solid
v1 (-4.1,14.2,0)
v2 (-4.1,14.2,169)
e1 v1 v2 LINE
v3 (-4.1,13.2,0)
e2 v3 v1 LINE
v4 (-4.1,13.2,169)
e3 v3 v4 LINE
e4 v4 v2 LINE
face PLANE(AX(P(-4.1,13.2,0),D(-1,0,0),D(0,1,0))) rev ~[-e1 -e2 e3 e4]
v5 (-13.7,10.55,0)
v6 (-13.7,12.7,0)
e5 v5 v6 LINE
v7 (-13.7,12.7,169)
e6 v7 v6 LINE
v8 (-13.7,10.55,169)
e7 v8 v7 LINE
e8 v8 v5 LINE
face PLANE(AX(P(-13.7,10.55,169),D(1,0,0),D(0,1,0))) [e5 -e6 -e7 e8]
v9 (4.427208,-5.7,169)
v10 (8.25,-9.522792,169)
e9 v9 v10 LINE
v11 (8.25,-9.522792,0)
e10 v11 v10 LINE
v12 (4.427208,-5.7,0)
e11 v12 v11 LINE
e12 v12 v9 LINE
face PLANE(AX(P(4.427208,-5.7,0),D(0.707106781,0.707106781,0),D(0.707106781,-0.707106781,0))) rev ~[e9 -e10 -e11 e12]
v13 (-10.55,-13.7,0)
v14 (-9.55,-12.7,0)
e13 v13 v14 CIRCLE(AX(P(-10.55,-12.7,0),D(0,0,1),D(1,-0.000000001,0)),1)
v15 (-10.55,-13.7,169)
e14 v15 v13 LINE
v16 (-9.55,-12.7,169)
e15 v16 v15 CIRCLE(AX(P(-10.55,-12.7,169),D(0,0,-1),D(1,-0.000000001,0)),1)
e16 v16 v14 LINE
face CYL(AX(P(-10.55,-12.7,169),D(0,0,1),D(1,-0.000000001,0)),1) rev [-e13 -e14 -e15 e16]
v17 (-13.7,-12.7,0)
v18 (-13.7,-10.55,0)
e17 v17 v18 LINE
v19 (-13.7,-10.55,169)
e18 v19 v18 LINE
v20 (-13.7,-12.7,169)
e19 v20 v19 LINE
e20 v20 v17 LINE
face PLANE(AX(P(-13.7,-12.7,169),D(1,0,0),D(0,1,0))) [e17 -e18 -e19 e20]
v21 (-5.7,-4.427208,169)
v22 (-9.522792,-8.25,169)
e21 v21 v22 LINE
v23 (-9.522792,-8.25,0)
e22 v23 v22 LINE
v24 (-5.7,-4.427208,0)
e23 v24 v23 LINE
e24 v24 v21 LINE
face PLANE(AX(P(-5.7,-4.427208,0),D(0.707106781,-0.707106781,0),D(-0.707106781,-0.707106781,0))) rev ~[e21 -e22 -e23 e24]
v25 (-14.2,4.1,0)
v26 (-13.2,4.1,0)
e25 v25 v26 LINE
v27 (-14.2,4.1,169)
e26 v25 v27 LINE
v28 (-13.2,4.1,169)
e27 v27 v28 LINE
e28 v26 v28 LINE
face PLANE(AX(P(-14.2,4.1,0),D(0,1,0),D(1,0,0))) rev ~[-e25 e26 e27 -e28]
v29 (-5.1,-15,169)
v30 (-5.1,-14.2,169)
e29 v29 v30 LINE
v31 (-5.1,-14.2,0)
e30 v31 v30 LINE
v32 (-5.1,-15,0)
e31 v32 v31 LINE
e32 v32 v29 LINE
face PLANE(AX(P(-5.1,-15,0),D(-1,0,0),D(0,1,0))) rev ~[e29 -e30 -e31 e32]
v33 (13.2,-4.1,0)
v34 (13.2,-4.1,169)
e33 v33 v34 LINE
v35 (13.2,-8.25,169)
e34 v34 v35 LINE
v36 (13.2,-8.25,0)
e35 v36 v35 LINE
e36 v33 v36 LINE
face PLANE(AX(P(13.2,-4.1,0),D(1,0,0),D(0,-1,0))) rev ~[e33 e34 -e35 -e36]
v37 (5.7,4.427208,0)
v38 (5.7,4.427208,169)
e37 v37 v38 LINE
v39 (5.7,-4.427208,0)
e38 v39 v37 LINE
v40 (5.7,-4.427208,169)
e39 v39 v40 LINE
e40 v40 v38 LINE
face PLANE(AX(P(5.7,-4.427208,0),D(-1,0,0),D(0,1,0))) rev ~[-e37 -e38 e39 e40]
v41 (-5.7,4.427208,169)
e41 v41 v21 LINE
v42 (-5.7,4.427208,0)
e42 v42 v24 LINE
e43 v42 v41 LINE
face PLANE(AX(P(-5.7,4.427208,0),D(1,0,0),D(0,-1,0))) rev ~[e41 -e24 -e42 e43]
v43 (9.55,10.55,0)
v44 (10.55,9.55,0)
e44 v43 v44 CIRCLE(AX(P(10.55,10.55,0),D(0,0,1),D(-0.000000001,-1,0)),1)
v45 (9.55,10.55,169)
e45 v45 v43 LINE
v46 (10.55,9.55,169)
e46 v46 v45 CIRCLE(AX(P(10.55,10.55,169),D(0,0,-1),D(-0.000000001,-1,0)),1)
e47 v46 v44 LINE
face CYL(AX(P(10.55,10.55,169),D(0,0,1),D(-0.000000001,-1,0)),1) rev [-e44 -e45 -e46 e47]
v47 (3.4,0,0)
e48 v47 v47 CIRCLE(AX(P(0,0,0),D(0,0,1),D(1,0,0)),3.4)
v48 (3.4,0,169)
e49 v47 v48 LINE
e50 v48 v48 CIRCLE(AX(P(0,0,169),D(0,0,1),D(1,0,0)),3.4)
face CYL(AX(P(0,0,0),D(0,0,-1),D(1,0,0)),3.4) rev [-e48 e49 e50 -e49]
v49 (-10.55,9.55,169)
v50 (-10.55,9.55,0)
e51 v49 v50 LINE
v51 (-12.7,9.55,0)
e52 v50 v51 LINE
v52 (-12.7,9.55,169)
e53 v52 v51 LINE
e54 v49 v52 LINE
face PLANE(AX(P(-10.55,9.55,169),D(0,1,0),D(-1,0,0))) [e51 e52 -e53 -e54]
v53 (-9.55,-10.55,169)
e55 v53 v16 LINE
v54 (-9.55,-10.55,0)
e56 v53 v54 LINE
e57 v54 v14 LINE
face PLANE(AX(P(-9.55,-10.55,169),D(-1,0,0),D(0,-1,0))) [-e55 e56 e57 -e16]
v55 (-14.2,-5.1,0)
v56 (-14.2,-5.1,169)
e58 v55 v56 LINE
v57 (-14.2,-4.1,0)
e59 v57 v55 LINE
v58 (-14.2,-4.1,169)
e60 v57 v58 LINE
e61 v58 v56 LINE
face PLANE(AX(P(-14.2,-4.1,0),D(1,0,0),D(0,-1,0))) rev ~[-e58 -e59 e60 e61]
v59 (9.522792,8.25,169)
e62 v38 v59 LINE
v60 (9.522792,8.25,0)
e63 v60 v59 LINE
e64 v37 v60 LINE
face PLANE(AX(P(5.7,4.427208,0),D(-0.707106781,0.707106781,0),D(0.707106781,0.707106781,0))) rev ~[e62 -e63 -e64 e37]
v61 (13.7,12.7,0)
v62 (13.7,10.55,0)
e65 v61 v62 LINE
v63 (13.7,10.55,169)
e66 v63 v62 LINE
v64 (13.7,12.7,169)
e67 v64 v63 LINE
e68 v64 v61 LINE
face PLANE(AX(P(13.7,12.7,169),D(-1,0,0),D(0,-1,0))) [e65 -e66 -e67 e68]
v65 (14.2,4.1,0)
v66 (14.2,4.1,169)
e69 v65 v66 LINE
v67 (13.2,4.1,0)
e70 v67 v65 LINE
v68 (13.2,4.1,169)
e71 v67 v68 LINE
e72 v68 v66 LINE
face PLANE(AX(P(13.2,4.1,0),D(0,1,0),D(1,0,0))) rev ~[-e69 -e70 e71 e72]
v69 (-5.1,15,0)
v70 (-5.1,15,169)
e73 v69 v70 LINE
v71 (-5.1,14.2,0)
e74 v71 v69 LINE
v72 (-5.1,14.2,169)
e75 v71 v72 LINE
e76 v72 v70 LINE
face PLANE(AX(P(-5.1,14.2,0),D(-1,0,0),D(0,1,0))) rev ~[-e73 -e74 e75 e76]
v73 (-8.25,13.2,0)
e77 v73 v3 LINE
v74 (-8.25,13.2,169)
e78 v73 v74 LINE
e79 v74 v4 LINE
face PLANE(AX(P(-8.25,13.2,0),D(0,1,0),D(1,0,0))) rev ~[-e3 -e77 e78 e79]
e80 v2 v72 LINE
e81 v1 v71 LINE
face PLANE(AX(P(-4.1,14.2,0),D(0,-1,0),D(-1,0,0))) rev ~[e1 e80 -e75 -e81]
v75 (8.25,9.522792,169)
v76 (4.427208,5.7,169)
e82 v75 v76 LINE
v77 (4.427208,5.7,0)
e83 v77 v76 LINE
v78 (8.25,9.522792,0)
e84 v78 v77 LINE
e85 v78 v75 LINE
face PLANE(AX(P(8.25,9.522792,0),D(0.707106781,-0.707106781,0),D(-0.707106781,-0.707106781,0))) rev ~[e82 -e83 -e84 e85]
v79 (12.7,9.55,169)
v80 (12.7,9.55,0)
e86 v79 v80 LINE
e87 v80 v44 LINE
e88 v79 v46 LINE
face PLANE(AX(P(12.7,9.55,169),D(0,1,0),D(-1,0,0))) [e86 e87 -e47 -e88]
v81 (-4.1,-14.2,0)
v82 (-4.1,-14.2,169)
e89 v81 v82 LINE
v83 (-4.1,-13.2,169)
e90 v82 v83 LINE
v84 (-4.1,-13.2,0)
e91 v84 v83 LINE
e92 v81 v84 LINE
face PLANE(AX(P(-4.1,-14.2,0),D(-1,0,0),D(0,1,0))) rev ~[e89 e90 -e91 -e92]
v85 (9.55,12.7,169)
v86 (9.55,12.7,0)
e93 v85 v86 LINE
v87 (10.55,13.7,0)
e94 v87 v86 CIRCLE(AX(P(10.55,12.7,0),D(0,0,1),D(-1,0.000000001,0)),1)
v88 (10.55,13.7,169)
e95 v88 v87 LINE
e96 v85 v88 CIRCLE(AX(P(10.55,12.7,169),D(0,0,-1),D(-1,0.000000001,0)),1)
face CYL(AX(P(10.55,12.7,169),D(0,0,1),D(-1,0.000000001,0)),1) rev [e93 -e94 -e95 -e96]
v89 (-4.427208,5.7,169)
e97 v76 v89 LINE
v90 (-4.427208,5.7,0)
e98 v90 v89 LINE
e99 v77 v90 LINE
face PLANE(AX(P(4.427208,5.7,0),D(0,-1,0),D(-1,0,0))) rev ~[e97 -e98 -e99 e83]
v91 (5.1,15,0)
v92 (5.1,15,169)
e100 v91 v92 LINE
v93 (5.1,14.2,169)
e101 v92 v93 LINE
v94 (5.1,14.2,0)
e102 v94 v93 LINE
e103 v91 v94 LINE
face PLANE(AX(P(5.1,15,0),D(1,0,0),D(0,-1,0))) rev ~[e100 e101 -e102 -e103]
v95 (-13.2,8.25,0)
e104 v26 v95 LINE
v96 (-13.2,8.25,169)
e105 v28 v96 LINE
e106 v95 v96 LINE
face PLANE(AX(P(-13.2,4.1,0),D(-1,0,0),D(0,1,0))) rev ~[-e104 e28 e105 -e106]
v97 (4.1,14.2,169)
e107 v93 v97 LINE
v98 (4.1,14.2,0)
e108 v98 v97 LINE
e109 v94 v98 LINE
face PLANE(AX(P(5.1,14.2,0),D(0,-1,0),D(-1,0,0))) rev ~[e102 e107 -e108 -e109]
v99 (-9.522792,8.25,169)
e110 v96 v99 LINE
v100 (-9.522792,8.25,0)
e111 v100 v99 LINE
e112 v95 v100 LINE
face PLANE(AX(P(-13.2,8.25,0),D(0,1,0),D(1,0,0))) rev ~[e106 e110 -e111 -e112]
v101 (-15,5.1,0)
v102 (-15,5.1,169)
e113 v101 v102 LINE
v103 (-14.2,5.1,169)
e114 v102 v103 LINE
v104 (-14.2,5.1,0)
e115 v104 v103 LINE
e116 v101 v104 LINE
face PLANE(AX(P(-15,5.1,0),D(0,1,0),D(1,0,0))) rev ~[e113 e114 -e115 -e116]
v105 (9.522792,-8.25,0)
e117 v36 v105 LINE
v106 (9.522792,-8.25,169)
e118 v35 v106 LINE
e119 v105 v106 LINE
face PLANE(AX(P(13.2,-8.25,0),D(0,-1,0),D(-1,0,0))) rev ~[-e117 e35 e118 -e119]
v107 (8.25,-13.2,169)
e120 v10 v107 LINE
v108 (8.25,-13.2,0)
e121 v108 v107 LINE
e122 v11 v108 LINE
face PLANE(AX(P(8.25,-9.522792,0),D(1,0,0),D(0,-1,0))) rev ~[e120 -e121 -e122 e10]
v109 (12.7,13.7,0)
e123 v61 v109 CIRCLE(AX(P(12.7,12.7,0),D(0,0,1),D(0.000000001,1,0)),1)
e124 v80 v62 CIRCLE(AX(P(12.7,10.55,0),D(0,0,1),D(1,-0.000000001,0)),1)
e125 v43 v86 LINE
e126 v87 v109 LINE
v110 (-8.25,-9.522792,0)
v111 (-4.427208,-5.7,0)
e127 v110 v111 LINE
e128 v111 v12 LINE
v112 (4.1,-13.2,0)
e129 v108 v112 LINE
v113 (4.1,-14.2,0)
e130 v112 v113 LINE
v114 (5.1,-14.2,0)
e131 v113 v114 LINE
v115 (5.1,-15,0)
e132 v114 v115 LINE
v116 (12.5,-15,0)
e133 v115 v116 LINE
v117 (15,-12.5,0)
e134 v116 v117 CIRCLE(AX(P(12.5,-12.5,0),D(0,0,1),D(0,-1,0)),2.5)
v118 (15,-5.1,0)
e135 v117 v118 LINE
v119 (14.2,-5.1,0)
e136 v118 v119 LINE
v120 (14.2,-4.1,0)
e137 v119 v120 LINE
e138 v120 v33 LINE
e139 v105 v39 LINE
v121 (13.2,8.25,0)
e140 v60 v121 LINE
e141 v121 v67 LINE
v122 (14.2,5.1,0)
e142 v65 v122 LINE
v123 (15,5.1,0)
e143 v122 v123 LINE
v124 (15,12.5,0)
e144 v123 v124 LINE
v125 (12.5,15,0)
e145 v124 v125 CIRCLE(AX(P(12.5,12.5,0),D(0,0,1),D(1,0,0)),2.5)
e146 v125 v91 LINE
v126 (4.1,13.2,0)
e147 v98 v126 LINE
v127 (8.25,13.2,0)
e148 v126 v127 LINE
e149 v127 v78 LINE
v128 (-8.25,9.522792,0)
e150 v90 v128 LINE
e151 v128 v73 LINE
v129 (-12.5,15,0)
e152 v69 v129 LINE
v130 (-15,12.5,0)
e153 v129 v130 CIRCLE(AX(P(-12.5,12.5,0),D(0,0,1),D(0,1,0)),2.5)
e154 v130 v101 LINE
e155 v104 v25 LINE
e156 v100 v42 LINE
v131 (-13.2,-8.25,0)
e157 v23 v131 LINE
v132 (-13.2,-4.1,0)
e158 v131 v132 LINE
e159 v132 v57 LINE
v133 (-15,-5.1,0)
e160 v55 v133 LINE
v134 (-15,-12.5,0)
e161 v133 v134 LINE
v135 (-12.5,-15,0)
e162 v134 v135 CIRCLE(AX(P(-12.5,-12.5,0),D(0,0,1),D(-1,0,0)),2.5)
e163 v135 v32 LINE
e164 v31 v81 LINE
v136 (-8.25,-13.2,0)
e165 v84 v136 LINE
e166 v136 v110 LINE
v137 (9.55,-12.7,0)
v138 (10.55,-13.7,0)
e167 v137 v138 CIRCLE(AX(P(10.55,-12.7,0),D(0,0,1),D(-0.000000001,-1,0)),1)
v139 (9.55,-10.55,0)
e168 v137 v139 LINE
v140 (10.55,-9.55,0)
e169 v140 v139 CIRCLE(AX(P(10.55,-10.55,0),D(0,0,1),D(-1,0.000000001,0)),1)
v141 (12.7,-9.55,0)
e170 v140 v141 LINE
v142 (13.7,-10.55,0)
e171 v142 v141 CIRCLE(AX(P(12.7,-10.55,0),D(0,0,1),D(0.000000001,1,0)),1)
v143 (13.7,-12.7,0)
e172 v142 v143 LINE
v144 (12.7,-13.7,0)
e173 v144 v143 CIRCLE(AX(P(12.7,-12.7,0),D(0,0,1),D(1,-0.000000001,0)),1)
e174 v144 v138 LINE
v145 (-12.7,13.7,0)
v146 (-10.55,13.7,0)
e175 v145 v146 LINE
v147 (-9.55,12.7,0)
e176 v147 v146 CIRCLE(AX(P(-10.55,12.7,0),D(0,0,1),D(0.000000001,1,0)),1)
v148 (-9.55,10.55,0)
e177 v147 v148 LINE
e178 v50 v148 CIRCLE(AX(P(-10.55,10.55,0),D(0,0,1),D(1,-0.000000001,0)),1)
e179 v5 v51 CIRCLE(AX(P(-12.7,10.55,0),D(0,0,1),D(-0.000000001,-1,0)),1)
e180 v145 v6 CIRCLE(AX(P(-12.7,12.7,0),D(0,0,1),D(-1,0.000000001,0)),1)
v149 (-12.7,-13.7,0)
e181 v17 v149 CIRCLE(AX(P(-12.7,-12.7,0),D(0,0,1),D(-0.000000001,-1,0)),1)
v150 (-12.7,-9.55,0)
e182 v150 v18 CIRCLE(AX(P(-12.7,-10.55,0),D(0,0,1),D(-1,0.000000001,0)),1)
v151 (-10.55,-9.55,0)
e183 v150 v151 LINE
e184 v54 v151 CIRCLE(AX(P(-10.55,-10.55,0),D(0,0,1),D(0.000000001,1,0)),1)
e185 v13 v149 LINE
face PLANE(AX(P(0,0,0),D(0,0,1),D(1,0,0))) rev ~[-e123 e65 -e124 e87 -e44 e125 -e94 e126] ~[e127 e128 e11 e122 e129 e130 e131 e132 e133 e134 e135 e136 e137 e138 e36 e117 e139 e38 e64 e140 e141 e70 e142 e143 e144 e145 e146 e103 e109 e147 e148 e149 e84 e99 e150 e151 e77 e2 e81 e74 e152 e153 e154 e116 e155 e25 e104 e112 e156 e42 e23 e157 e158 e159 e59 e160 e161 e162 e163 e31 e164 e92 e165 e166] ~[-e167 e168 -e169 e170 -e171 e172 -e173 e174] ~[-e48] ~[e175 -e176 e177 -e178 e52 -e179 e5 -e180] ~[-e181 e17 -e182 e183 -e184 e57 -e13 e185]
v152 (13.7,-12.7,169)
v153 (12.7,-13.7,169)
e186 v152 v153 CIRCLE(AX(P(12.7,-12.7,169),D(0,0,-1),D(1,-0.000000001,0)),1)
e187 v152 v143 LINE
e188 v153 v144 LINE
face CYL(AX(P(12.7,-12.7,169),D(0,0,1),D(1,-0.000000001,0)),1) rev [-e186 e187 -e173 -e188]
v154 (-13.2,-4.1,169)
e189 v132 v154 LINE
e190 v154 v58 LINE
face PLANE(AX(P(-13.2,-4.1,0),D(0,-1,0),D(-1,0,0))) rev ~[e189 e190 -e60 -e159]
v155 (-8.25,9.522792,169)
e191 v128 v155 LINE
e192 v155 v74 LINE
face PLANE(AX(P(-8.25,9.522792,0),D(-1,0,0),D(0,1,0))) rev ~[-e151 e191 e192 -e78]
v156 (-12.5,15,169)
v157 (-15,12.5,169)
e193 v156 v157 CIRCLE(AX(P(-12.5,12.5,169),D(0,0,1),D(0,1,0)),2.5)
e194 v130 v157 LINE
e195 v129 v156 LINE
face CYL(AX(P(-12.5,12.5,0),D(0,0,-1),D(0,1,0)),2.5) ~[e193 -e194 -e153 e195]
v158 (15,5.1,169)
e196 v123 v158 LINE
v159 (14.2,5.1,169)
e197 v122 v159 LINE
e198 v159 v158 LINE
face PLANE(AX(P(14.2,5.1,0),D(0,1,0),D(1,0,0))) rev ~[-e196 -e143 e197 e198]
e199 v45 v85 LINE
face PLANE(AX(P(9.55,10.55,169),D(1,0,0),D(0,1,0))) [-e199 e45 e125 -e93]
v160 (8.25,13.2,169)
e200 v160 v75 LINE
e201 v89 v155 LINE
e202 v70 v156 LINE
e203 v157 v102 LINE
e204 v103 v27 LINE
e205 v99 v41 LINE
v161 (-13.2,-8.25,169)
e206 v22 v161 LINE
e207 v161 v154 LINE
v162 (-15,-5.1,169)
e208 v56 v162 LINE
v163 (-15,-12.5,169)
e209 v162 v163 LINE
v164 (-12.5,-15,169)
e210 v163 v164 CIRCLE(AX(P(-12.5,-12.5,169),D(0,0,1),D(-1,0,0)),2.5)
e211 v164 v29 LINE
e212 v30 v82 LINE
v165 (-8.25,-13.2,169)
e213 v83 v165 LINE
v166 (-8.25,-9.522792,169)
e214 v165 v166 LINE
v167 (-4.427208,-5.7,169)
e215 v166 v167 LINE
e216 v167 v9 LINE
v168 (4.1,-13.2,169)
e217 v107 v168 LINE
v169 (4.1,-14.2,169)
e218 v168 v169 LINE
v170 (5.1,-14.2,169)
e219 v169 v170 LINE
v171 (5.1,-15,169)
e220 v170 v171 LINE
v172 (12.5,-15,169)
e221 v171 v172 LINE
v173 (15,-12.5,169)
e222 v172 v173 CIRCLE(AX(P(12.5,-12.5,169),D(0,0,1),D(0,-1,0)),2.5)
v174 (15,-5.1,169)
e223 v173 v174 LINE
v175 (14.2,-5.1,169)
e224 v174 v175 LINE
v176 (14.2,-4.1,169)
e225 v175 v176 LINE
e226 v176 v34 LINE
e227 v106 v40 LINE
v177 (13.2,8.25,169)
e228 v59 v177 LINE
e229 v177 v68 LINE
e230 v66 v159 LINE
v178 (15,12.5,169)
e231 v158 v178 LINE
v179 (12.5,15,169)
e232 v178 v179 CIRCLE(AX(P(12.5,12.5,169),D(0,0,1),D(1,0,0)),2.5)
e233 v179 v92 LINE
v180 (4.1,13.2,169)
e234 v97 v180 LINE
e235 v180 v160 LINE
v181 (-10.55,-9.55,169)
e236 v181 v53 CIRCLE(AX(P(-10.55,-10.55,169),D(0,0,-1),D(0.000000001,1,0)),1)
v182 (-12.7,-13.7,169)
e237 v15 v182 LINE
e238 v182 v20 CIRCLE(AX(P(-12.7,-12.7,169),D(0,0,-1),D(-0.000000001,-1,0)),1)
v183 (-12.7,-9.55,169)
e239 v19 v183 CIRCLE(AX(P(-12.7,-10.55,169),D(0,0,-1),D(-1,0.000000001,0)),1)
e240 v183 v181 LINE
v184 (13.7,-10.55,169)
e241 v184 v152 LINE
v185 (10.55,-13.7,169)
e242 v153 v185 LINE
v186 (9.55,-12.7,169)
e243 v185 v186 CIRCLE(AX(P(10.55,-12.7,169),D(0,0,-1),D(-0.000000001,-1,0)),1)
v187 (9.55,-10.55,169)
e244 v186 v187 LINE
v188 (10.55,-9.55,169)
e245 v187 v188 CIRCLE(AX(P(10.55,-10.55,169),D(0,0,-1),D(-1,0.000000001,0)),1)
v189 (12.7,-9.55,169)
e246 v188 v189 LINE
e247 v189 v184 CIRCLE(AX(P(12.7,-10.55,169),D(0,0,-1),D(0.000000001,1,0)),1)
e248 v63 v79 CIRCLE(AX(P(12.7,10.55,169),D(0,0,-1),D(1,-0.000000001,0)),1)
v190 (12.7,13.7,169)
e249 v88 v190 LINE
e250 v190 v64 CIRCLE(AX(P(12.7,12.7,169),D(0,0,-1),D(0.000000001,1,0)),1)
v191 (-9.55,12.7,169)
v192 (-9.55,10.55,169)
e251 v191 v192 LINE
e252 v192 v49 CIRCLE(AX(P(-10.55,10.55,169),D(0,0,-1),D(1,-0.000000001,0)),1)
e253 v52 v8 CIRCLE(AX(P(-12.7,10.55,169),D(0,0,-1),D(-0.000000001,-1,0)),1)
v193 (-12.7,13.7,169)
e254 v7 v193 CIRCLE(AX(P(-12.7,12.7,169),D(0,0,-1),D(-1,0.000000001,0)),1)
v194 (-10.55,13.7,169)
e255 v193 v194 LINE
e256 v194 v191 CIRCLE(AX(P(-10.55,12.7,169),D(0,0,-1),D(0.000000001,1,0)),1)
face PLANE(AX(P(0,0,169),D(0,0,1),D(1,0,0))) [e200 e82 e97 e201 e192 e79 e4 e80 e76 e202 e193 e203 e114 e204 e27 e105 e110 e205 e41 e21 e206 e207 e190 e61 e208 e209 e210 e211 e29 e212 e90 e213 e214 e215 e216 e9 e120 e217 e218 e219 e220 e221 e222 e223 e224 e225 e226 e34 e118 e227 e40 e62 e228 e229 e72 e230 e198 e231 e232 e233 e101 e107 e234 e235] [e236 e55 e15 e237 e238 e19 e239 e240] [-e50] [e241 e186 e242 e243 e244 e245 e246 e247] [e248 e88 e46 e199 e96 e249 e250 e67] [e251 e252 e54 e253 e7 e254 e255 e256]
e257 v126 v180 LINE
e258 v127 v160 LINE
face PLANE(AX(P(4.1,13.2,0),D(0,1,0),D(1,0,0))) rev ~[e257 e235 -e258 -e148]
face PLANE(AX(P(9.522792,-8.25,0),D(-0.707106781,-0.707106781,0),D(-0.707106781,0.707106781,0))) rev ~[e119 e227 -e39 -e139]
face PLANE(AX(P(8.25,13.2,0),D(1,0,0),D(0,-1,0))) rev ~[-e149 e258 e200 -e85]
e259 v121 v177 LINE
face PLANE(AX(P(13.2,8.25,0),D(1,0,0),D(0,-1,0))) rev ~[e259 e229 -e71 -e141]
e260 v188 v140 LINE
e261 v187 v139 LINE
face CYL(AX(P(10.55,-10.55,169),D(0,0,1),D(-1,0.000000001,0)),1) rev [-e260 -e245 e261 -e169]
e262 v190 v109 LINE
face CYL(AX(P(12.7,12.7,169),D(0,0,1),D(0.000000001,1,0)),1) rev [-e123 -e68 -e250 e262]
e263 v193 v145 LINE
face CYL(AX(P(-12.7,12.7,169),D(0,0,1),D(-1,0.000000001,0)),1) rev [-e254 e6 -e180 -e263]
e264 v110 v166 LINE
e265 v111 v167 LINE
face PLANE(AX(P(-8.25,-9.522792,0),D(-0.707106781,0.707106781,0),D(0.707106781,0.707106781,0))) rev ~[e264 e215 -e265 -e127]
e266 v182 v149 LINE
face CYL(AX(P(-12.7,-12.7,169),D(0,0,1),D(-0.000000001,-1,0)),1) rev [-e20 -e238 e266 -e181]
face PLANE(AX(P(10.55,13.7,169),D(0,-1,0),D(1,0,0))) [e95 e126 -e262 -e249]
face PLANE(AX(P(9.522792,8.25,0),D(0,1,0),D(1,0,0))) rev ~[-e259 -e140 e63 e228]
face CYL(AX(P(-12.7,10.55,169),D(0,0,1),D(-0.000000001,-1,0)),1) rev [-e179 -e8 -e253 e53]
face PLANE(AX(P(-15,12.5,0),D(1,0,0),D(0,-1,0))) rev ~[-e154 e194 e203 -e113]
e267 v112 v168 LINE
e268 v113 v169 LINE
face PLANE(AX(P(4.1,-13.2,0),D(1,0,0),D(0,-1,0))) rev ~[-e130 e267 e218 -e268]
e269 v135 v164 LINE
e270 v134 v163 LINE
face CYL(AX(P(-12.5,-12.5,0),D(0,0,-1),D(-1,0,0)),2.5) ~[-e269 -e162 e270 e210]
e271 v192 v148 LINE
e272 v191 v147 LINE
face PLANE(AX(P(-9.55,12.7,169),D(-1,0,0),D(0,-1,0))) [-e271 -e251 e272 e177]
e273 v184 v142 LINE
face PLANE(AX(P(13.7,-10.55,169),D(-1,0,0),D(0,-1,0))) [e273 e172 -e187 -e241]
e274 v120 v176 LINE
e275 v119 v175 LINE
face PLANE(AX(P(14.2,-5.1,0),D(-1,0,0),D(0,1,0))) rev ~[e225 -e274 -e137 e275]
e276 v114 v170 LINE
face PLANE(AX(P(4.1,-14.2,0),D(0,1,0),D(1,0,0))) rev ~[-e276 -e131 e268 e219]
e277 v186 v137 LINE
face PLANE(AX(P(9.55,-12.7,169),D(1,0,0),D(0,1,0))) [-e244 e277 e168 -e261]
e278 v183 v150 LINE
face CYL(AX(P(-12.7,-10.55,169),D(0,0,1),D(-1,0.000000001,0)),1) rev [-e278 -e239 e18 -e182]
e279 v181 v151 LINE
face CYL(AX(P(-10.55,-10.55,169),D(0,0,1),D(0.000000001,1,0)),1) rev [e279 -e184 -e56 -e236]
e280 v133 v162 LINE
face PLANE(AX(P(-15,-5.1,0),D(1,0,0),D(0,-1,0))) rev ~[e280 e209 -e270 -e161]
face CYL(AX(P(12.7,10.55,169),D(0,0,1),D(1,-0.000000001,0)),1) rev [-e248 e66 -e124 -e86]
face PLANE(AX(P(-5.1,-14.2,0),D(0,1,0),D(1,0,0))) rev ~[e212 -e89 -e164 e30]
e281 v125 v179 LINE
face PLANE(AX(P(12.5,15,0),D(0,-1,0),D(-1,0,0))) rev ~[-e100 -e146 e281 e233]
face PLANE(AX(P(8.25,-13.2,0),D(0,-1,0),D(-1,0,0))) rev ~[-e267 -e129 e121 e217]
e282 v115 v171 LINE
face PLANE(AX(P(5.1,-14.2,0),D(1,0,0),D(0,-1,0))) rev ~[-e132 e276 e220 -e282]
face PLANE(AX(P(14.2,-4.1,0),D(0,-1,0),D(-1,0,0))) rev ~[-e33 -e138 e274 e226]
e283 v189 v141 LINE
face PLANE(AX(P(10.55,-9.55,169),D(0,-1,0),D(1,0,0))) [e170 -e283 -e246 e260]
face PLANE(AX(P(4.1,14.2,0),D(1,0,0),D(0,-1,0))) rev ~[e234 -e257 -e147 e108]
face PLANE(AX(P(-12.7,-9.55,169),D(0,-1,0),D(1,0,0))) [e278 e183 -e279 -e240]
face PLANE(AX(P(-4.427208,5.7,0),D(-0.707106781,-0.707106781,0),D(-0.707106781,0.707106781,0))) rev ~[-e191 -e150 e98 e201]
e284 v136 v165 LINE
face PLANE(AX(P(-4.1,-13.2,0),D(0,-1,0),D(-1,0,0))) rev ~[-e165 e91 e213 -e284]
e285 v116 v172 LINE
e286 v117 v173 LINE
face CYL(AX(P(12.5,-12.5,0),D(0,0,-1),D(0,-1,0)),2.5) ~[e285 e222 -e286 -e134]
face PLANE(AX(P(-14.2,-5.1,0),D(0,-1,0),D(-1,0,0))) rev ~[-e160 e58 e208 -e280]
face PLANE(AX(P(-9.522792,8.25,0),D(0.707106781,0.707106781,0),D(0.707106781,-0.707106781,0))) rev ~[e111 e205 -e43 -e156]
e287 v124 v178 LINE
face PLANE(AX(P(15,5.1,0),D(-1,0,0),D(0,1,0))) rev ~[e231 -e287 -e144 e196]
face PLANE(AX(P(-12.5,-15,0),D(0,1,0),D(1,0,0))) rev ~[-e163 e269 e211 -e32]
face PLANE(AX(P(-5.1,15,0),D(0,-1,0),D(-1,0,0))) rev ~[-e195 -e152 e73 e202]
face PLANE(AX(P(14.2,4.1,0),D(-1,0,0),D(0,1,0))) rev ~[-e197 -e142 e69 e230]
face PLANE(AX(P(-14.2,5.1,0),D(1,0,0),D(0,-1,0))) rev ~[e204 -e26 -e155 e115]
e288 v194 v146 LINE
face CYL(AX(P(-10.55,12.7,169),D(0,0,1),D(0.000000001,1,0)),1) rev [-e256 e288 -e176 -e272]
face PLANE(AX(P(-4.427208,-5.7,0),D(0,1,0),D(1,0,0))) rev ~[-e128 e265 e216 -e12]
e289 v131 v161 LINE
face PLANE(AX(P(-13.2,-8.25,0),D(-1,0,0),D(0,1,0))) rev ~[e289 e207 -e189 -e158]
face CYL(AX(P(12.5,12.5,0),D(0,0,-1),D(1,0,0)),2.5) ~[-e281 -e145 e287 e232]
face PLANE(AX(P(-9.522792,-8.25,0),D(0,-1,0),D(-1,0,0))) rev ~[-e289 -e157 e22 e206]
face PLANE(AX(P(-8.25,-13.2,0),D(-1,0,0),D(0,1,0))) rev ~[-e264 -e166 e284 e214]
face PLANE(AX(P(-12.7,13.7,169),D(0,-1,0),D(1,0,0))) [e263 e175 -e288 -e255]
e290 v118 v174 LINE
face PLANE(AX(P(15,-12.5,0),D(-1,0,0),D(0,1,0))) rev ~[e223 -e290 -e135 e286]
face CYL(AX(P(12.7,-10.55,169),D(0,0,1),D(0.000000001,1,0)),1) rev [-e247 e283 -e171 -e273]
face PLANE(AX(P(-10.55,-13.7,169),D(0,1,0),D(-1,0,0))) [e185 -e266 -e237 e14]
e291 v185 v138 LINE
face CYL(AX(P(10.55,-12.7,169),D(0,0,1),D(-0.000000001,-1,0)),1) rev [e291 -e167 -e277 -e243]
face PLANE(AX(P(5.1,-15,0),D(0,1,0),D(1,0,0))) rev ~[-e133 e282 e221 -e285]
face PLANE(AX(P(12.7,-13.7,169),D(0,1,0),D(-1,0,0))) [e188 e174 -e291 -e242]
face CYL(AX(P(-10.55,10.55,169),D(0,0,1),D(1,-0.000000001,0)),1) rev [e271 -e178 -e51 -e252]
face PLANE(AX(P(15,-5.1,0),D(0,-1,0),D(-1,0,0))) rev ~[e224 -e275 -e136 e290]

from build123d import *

# Parameters (mm, degrees)
SKETCH1_R      = 3.4
EXTRUDE1_DEPTH = 169
EXTRUDE2_DEPTH = 171.326157709


with BuildPart() as part:
    # Sketch1 → Extrude1 (new body)
    with BuildSketch(Plane.XY):
        with BuildLine():
            Line((-5.1, 14.2), (-5.1, 15))
            Line((-5.1, 15), (-12.5, 15))
            ThreePointArc((-12.5, 15), (-14.267766953, 14.267766953), (-15, 12.5))
            Line((-15, 12.5), (-15, 5.1))
            Line((-15, 5.1), (-14.2, 5.1))
            Line((-14.2, 5.1), (-14.2, 4.1))
            Line((-14.2, 4.1), (-13.2, 4.1))
            Line((-13.2, 4.1), (-13.2, 8.25))
            Line((-13.2, 8.25), (-9.522792206, 8.25))
            Line((-9.522792206, 8.25), (-5.7, 4.427207794))
            Line((-5.7, 4.427207794), (-5.7, -4.427207794))
            Line((-5.7, -4.427207794), (-9.522792206, -8.25))
            Line((-9.522792206, -8.25), (-13.2, -8.25))
            Line((-13.2, -8.25), (-13.2, -4.1))
            Line((-13.2, -4.1), (-14.2, -4.1))
            Line((-14.2, -4.1), (-14.2, -5.1))
            Line((-14.2, -5.1), (-15, -5.1))
            Line((-15, -5.1), (-15, -12.5))
            ThreePointArc((-15, -12.5), (-14.267766953, -14.267766953), (-12.5, -15))
            Line((-12.5, -15), (-5.1, -15))
            Line((-5.1, -15), (-5.1, -14.2))
            Line((-5.1, -14.2), (-4.1, -14.2))
            Line((-4.1, -14.2), (-4.1, -13.2))
            Line((-4.1, -13.2), (-8.25, -13.2))
            Line((-8.25, -13.2), (-8.25, -9.522792206))
            Line((-8.25, -9.522792206), (-4.427207794, -5.7))
            Line((-4.427207794, -5.7), (4.427207794, -5.7))
            Line((4.427207794, -5.7), (8.25, -9.522792206))
            Line((8.25, -9.522792206), (8.25, -13.2))
            Line((8.25, -13.2), (4.1, -13.2))
            Line((4.1, -13.2), (4.1, -14.2))
            Line((4.1, -14.2), (5.1, -14.2))
            Line((5.1, -14.2), (5.1, -15))
            Line((5.1, -15), (12.5, -15))
            ThreePointArc((12.5, -15), (14.267766953, -14.267766953), (15, -12.5))
            Line((15, -12.5), (15, -5.1))
            Line((15, -5.1), (14.2, -5.1))
            Line((14.2, -5.1), (14.2, -4.1))
            Line((14.2, -4.1), (13.2, -4.1))
            Line((13.2, -4.1), (13.2, -8.25))
            Line((13.2, -8.25), (9.522792206, -8.25))
            Line((9.522792206, -8.25), (5.7, -4.427207794))
            Line((5.7, -4.427207794), (5.7, 4.427207794))
            Line((5.7, 4.427207794), (9.522792206, 8.25))
            Line((9.522792206, 8.25), (13.2, 8.25))
            Line((13.2, 8.25), (13.2, 4.1))
            Line((13.2, 4.1), (14.2, 4.1))
            Line((14.2, 4.1), (14.2, 5.1))
            Line((14.2, 5.1), (15, 5.1))
            Line((15, 5.1), (15, 12.5))
            ThreePointArc((15, 12.5), (14.267766953, 14.267766953), (12.5, 15))
            Line((12.5, 15), (5.1, 15))
            Line((5.1, 15), (5.1, 14.2))
            Line((5.1, 14.2), (4.1, 14.2))
            Line((4.1, 14.2), (4.1, 13.2))
            Line((4.1, 13.2), (8.25, 13.2))
            Line((8.25, 13.2), (8.25, 9.522792206))
            Line((8.25, 9.522792206), (4.427207794, 5.7))
            Line((4.427207794, 5.7), (-4.427207794, 5.7))
            Line((-4.427207794, 5.7), (-8.25, 9.522792206))
            Line((-8.25, 9.522792206), (-8.25, 13.2))
            Line((-8.25, 13.2), (-4.1, 13.2))
            Line((-4.1, 13.2), (-4.1, 14.2))
            Line((-4.1, 14.2), (-5.1, 14.2))
        make_face()
        Circle(SKETCH1_R, mode=Mode.SUBTRACT)
    extrude(amount=EXTRUDE1_DEPTH)

    # Sketch2 → Extrude2 (cut, through all)
    with BuildSketch(Plane.XY.offset(169)):
        with BuildLine():
            Line((13.7, 12.7), (13.7, 10.55))
            ThreePointArc((13.7, 10.55), (13.407106781, 9.842893219), (12.7, 9.55))
            Line((12.7, 9.55), (10.55, 9.55))
            ThreePointArc((10.55, 9.55), (9.842893219, 9.842893219), (9.55, 10.55))
            Line((9.55, 10.55), (9.55, 12.7))
            ThreePointArc((9.55, 12.7), (9.842893219, 13.407106781), (10.55, 13.7))
            Line((10.55, 13.7), (12.7, 13.7))
            ThreePointArc((12.7, 13.7), (13.407106781, 13.407106781), (13.7, 12.7))
        make_face()
        with BuildLine():
            Line((-12.7, 13.7), (-10.55, 13.7))
            ThreePointArc((-10.55, 13.7), (-9.842893219, 13.407106781), (-9.55, 12.7))
            Line((-9.55, 12.7), (-9.55, 10.55))
            ThreePointArc((-9.55, 10.55), (-9.842893219, 9.842893219), (-10.55, 9.55))
            Line((-10.55, 9.55), (-12.7, 9.55))
            ThreePointArc((-12.7, 9.55), (-13.407106781, 9.842893219), (-13.7, 10.55))
            Line((-13.7, 10.55), (-13.7, 12.7))
            ThreePointArc((-13.7, 12.7), (-13.407106781, 13.407106781), (-12.7, 13.7))
        make_face()
        with BuildLine():
            Line((12.7, -13.7), (10.55, -13.7))
            ThreePointArc((10.55, -13.7), (9.842893219, -13.407106781), (9.55, -12.7))
            Line((9.55, -12.7), (9.55, -10.55))
            ThreePointArc((9.55, -10.55), (9.842893219, -9.842893219), (10.55, -9.55))
            Line((10.55, -9.55), (12.7, -9.55))
            ThreePointArc((12.7, -9.55), (13.407106781, -9.842893219), (13.7, -10.55))
            Line((13.7, -10.55), (13.7, -12.7))
            ThreePointArc((13.7, -12.7), (13.407106781, -13.407106781), (12.7, -13.7))
        make_face()
        with BuildLine():
            Line((-13.7, -12.7), (-13.7, -10.55))
            ThreePointArc((-13.7, -10.55), (-13.407106781, -9.842893219), (-12.7, -9.55))
            Line((-12.7, -9.55), (-10.55, -9.55))
            ThreePointArc((-10.55, -9.55), (-9.842893219, -9.842893219), (-9.55, -10.55))
            Line((-9.55, -10.55), (-9.55, -12.7))
            ThreePointArc((-9.55, -12.7), (-9.842893219, -13.407106781), (-10.55, -13.7))
            Line((-10.55, -13.7), (-12.7, -13.7))
            ThreePointArc((-12.7, -13.7), (-13.407106781, -13.407106781), (-13.7, -12.7))
        make_face()
    extrude(amount=-EXTRUDE2_DEPTH, mode=Mode.SUBTRACT)


solid = part.part
